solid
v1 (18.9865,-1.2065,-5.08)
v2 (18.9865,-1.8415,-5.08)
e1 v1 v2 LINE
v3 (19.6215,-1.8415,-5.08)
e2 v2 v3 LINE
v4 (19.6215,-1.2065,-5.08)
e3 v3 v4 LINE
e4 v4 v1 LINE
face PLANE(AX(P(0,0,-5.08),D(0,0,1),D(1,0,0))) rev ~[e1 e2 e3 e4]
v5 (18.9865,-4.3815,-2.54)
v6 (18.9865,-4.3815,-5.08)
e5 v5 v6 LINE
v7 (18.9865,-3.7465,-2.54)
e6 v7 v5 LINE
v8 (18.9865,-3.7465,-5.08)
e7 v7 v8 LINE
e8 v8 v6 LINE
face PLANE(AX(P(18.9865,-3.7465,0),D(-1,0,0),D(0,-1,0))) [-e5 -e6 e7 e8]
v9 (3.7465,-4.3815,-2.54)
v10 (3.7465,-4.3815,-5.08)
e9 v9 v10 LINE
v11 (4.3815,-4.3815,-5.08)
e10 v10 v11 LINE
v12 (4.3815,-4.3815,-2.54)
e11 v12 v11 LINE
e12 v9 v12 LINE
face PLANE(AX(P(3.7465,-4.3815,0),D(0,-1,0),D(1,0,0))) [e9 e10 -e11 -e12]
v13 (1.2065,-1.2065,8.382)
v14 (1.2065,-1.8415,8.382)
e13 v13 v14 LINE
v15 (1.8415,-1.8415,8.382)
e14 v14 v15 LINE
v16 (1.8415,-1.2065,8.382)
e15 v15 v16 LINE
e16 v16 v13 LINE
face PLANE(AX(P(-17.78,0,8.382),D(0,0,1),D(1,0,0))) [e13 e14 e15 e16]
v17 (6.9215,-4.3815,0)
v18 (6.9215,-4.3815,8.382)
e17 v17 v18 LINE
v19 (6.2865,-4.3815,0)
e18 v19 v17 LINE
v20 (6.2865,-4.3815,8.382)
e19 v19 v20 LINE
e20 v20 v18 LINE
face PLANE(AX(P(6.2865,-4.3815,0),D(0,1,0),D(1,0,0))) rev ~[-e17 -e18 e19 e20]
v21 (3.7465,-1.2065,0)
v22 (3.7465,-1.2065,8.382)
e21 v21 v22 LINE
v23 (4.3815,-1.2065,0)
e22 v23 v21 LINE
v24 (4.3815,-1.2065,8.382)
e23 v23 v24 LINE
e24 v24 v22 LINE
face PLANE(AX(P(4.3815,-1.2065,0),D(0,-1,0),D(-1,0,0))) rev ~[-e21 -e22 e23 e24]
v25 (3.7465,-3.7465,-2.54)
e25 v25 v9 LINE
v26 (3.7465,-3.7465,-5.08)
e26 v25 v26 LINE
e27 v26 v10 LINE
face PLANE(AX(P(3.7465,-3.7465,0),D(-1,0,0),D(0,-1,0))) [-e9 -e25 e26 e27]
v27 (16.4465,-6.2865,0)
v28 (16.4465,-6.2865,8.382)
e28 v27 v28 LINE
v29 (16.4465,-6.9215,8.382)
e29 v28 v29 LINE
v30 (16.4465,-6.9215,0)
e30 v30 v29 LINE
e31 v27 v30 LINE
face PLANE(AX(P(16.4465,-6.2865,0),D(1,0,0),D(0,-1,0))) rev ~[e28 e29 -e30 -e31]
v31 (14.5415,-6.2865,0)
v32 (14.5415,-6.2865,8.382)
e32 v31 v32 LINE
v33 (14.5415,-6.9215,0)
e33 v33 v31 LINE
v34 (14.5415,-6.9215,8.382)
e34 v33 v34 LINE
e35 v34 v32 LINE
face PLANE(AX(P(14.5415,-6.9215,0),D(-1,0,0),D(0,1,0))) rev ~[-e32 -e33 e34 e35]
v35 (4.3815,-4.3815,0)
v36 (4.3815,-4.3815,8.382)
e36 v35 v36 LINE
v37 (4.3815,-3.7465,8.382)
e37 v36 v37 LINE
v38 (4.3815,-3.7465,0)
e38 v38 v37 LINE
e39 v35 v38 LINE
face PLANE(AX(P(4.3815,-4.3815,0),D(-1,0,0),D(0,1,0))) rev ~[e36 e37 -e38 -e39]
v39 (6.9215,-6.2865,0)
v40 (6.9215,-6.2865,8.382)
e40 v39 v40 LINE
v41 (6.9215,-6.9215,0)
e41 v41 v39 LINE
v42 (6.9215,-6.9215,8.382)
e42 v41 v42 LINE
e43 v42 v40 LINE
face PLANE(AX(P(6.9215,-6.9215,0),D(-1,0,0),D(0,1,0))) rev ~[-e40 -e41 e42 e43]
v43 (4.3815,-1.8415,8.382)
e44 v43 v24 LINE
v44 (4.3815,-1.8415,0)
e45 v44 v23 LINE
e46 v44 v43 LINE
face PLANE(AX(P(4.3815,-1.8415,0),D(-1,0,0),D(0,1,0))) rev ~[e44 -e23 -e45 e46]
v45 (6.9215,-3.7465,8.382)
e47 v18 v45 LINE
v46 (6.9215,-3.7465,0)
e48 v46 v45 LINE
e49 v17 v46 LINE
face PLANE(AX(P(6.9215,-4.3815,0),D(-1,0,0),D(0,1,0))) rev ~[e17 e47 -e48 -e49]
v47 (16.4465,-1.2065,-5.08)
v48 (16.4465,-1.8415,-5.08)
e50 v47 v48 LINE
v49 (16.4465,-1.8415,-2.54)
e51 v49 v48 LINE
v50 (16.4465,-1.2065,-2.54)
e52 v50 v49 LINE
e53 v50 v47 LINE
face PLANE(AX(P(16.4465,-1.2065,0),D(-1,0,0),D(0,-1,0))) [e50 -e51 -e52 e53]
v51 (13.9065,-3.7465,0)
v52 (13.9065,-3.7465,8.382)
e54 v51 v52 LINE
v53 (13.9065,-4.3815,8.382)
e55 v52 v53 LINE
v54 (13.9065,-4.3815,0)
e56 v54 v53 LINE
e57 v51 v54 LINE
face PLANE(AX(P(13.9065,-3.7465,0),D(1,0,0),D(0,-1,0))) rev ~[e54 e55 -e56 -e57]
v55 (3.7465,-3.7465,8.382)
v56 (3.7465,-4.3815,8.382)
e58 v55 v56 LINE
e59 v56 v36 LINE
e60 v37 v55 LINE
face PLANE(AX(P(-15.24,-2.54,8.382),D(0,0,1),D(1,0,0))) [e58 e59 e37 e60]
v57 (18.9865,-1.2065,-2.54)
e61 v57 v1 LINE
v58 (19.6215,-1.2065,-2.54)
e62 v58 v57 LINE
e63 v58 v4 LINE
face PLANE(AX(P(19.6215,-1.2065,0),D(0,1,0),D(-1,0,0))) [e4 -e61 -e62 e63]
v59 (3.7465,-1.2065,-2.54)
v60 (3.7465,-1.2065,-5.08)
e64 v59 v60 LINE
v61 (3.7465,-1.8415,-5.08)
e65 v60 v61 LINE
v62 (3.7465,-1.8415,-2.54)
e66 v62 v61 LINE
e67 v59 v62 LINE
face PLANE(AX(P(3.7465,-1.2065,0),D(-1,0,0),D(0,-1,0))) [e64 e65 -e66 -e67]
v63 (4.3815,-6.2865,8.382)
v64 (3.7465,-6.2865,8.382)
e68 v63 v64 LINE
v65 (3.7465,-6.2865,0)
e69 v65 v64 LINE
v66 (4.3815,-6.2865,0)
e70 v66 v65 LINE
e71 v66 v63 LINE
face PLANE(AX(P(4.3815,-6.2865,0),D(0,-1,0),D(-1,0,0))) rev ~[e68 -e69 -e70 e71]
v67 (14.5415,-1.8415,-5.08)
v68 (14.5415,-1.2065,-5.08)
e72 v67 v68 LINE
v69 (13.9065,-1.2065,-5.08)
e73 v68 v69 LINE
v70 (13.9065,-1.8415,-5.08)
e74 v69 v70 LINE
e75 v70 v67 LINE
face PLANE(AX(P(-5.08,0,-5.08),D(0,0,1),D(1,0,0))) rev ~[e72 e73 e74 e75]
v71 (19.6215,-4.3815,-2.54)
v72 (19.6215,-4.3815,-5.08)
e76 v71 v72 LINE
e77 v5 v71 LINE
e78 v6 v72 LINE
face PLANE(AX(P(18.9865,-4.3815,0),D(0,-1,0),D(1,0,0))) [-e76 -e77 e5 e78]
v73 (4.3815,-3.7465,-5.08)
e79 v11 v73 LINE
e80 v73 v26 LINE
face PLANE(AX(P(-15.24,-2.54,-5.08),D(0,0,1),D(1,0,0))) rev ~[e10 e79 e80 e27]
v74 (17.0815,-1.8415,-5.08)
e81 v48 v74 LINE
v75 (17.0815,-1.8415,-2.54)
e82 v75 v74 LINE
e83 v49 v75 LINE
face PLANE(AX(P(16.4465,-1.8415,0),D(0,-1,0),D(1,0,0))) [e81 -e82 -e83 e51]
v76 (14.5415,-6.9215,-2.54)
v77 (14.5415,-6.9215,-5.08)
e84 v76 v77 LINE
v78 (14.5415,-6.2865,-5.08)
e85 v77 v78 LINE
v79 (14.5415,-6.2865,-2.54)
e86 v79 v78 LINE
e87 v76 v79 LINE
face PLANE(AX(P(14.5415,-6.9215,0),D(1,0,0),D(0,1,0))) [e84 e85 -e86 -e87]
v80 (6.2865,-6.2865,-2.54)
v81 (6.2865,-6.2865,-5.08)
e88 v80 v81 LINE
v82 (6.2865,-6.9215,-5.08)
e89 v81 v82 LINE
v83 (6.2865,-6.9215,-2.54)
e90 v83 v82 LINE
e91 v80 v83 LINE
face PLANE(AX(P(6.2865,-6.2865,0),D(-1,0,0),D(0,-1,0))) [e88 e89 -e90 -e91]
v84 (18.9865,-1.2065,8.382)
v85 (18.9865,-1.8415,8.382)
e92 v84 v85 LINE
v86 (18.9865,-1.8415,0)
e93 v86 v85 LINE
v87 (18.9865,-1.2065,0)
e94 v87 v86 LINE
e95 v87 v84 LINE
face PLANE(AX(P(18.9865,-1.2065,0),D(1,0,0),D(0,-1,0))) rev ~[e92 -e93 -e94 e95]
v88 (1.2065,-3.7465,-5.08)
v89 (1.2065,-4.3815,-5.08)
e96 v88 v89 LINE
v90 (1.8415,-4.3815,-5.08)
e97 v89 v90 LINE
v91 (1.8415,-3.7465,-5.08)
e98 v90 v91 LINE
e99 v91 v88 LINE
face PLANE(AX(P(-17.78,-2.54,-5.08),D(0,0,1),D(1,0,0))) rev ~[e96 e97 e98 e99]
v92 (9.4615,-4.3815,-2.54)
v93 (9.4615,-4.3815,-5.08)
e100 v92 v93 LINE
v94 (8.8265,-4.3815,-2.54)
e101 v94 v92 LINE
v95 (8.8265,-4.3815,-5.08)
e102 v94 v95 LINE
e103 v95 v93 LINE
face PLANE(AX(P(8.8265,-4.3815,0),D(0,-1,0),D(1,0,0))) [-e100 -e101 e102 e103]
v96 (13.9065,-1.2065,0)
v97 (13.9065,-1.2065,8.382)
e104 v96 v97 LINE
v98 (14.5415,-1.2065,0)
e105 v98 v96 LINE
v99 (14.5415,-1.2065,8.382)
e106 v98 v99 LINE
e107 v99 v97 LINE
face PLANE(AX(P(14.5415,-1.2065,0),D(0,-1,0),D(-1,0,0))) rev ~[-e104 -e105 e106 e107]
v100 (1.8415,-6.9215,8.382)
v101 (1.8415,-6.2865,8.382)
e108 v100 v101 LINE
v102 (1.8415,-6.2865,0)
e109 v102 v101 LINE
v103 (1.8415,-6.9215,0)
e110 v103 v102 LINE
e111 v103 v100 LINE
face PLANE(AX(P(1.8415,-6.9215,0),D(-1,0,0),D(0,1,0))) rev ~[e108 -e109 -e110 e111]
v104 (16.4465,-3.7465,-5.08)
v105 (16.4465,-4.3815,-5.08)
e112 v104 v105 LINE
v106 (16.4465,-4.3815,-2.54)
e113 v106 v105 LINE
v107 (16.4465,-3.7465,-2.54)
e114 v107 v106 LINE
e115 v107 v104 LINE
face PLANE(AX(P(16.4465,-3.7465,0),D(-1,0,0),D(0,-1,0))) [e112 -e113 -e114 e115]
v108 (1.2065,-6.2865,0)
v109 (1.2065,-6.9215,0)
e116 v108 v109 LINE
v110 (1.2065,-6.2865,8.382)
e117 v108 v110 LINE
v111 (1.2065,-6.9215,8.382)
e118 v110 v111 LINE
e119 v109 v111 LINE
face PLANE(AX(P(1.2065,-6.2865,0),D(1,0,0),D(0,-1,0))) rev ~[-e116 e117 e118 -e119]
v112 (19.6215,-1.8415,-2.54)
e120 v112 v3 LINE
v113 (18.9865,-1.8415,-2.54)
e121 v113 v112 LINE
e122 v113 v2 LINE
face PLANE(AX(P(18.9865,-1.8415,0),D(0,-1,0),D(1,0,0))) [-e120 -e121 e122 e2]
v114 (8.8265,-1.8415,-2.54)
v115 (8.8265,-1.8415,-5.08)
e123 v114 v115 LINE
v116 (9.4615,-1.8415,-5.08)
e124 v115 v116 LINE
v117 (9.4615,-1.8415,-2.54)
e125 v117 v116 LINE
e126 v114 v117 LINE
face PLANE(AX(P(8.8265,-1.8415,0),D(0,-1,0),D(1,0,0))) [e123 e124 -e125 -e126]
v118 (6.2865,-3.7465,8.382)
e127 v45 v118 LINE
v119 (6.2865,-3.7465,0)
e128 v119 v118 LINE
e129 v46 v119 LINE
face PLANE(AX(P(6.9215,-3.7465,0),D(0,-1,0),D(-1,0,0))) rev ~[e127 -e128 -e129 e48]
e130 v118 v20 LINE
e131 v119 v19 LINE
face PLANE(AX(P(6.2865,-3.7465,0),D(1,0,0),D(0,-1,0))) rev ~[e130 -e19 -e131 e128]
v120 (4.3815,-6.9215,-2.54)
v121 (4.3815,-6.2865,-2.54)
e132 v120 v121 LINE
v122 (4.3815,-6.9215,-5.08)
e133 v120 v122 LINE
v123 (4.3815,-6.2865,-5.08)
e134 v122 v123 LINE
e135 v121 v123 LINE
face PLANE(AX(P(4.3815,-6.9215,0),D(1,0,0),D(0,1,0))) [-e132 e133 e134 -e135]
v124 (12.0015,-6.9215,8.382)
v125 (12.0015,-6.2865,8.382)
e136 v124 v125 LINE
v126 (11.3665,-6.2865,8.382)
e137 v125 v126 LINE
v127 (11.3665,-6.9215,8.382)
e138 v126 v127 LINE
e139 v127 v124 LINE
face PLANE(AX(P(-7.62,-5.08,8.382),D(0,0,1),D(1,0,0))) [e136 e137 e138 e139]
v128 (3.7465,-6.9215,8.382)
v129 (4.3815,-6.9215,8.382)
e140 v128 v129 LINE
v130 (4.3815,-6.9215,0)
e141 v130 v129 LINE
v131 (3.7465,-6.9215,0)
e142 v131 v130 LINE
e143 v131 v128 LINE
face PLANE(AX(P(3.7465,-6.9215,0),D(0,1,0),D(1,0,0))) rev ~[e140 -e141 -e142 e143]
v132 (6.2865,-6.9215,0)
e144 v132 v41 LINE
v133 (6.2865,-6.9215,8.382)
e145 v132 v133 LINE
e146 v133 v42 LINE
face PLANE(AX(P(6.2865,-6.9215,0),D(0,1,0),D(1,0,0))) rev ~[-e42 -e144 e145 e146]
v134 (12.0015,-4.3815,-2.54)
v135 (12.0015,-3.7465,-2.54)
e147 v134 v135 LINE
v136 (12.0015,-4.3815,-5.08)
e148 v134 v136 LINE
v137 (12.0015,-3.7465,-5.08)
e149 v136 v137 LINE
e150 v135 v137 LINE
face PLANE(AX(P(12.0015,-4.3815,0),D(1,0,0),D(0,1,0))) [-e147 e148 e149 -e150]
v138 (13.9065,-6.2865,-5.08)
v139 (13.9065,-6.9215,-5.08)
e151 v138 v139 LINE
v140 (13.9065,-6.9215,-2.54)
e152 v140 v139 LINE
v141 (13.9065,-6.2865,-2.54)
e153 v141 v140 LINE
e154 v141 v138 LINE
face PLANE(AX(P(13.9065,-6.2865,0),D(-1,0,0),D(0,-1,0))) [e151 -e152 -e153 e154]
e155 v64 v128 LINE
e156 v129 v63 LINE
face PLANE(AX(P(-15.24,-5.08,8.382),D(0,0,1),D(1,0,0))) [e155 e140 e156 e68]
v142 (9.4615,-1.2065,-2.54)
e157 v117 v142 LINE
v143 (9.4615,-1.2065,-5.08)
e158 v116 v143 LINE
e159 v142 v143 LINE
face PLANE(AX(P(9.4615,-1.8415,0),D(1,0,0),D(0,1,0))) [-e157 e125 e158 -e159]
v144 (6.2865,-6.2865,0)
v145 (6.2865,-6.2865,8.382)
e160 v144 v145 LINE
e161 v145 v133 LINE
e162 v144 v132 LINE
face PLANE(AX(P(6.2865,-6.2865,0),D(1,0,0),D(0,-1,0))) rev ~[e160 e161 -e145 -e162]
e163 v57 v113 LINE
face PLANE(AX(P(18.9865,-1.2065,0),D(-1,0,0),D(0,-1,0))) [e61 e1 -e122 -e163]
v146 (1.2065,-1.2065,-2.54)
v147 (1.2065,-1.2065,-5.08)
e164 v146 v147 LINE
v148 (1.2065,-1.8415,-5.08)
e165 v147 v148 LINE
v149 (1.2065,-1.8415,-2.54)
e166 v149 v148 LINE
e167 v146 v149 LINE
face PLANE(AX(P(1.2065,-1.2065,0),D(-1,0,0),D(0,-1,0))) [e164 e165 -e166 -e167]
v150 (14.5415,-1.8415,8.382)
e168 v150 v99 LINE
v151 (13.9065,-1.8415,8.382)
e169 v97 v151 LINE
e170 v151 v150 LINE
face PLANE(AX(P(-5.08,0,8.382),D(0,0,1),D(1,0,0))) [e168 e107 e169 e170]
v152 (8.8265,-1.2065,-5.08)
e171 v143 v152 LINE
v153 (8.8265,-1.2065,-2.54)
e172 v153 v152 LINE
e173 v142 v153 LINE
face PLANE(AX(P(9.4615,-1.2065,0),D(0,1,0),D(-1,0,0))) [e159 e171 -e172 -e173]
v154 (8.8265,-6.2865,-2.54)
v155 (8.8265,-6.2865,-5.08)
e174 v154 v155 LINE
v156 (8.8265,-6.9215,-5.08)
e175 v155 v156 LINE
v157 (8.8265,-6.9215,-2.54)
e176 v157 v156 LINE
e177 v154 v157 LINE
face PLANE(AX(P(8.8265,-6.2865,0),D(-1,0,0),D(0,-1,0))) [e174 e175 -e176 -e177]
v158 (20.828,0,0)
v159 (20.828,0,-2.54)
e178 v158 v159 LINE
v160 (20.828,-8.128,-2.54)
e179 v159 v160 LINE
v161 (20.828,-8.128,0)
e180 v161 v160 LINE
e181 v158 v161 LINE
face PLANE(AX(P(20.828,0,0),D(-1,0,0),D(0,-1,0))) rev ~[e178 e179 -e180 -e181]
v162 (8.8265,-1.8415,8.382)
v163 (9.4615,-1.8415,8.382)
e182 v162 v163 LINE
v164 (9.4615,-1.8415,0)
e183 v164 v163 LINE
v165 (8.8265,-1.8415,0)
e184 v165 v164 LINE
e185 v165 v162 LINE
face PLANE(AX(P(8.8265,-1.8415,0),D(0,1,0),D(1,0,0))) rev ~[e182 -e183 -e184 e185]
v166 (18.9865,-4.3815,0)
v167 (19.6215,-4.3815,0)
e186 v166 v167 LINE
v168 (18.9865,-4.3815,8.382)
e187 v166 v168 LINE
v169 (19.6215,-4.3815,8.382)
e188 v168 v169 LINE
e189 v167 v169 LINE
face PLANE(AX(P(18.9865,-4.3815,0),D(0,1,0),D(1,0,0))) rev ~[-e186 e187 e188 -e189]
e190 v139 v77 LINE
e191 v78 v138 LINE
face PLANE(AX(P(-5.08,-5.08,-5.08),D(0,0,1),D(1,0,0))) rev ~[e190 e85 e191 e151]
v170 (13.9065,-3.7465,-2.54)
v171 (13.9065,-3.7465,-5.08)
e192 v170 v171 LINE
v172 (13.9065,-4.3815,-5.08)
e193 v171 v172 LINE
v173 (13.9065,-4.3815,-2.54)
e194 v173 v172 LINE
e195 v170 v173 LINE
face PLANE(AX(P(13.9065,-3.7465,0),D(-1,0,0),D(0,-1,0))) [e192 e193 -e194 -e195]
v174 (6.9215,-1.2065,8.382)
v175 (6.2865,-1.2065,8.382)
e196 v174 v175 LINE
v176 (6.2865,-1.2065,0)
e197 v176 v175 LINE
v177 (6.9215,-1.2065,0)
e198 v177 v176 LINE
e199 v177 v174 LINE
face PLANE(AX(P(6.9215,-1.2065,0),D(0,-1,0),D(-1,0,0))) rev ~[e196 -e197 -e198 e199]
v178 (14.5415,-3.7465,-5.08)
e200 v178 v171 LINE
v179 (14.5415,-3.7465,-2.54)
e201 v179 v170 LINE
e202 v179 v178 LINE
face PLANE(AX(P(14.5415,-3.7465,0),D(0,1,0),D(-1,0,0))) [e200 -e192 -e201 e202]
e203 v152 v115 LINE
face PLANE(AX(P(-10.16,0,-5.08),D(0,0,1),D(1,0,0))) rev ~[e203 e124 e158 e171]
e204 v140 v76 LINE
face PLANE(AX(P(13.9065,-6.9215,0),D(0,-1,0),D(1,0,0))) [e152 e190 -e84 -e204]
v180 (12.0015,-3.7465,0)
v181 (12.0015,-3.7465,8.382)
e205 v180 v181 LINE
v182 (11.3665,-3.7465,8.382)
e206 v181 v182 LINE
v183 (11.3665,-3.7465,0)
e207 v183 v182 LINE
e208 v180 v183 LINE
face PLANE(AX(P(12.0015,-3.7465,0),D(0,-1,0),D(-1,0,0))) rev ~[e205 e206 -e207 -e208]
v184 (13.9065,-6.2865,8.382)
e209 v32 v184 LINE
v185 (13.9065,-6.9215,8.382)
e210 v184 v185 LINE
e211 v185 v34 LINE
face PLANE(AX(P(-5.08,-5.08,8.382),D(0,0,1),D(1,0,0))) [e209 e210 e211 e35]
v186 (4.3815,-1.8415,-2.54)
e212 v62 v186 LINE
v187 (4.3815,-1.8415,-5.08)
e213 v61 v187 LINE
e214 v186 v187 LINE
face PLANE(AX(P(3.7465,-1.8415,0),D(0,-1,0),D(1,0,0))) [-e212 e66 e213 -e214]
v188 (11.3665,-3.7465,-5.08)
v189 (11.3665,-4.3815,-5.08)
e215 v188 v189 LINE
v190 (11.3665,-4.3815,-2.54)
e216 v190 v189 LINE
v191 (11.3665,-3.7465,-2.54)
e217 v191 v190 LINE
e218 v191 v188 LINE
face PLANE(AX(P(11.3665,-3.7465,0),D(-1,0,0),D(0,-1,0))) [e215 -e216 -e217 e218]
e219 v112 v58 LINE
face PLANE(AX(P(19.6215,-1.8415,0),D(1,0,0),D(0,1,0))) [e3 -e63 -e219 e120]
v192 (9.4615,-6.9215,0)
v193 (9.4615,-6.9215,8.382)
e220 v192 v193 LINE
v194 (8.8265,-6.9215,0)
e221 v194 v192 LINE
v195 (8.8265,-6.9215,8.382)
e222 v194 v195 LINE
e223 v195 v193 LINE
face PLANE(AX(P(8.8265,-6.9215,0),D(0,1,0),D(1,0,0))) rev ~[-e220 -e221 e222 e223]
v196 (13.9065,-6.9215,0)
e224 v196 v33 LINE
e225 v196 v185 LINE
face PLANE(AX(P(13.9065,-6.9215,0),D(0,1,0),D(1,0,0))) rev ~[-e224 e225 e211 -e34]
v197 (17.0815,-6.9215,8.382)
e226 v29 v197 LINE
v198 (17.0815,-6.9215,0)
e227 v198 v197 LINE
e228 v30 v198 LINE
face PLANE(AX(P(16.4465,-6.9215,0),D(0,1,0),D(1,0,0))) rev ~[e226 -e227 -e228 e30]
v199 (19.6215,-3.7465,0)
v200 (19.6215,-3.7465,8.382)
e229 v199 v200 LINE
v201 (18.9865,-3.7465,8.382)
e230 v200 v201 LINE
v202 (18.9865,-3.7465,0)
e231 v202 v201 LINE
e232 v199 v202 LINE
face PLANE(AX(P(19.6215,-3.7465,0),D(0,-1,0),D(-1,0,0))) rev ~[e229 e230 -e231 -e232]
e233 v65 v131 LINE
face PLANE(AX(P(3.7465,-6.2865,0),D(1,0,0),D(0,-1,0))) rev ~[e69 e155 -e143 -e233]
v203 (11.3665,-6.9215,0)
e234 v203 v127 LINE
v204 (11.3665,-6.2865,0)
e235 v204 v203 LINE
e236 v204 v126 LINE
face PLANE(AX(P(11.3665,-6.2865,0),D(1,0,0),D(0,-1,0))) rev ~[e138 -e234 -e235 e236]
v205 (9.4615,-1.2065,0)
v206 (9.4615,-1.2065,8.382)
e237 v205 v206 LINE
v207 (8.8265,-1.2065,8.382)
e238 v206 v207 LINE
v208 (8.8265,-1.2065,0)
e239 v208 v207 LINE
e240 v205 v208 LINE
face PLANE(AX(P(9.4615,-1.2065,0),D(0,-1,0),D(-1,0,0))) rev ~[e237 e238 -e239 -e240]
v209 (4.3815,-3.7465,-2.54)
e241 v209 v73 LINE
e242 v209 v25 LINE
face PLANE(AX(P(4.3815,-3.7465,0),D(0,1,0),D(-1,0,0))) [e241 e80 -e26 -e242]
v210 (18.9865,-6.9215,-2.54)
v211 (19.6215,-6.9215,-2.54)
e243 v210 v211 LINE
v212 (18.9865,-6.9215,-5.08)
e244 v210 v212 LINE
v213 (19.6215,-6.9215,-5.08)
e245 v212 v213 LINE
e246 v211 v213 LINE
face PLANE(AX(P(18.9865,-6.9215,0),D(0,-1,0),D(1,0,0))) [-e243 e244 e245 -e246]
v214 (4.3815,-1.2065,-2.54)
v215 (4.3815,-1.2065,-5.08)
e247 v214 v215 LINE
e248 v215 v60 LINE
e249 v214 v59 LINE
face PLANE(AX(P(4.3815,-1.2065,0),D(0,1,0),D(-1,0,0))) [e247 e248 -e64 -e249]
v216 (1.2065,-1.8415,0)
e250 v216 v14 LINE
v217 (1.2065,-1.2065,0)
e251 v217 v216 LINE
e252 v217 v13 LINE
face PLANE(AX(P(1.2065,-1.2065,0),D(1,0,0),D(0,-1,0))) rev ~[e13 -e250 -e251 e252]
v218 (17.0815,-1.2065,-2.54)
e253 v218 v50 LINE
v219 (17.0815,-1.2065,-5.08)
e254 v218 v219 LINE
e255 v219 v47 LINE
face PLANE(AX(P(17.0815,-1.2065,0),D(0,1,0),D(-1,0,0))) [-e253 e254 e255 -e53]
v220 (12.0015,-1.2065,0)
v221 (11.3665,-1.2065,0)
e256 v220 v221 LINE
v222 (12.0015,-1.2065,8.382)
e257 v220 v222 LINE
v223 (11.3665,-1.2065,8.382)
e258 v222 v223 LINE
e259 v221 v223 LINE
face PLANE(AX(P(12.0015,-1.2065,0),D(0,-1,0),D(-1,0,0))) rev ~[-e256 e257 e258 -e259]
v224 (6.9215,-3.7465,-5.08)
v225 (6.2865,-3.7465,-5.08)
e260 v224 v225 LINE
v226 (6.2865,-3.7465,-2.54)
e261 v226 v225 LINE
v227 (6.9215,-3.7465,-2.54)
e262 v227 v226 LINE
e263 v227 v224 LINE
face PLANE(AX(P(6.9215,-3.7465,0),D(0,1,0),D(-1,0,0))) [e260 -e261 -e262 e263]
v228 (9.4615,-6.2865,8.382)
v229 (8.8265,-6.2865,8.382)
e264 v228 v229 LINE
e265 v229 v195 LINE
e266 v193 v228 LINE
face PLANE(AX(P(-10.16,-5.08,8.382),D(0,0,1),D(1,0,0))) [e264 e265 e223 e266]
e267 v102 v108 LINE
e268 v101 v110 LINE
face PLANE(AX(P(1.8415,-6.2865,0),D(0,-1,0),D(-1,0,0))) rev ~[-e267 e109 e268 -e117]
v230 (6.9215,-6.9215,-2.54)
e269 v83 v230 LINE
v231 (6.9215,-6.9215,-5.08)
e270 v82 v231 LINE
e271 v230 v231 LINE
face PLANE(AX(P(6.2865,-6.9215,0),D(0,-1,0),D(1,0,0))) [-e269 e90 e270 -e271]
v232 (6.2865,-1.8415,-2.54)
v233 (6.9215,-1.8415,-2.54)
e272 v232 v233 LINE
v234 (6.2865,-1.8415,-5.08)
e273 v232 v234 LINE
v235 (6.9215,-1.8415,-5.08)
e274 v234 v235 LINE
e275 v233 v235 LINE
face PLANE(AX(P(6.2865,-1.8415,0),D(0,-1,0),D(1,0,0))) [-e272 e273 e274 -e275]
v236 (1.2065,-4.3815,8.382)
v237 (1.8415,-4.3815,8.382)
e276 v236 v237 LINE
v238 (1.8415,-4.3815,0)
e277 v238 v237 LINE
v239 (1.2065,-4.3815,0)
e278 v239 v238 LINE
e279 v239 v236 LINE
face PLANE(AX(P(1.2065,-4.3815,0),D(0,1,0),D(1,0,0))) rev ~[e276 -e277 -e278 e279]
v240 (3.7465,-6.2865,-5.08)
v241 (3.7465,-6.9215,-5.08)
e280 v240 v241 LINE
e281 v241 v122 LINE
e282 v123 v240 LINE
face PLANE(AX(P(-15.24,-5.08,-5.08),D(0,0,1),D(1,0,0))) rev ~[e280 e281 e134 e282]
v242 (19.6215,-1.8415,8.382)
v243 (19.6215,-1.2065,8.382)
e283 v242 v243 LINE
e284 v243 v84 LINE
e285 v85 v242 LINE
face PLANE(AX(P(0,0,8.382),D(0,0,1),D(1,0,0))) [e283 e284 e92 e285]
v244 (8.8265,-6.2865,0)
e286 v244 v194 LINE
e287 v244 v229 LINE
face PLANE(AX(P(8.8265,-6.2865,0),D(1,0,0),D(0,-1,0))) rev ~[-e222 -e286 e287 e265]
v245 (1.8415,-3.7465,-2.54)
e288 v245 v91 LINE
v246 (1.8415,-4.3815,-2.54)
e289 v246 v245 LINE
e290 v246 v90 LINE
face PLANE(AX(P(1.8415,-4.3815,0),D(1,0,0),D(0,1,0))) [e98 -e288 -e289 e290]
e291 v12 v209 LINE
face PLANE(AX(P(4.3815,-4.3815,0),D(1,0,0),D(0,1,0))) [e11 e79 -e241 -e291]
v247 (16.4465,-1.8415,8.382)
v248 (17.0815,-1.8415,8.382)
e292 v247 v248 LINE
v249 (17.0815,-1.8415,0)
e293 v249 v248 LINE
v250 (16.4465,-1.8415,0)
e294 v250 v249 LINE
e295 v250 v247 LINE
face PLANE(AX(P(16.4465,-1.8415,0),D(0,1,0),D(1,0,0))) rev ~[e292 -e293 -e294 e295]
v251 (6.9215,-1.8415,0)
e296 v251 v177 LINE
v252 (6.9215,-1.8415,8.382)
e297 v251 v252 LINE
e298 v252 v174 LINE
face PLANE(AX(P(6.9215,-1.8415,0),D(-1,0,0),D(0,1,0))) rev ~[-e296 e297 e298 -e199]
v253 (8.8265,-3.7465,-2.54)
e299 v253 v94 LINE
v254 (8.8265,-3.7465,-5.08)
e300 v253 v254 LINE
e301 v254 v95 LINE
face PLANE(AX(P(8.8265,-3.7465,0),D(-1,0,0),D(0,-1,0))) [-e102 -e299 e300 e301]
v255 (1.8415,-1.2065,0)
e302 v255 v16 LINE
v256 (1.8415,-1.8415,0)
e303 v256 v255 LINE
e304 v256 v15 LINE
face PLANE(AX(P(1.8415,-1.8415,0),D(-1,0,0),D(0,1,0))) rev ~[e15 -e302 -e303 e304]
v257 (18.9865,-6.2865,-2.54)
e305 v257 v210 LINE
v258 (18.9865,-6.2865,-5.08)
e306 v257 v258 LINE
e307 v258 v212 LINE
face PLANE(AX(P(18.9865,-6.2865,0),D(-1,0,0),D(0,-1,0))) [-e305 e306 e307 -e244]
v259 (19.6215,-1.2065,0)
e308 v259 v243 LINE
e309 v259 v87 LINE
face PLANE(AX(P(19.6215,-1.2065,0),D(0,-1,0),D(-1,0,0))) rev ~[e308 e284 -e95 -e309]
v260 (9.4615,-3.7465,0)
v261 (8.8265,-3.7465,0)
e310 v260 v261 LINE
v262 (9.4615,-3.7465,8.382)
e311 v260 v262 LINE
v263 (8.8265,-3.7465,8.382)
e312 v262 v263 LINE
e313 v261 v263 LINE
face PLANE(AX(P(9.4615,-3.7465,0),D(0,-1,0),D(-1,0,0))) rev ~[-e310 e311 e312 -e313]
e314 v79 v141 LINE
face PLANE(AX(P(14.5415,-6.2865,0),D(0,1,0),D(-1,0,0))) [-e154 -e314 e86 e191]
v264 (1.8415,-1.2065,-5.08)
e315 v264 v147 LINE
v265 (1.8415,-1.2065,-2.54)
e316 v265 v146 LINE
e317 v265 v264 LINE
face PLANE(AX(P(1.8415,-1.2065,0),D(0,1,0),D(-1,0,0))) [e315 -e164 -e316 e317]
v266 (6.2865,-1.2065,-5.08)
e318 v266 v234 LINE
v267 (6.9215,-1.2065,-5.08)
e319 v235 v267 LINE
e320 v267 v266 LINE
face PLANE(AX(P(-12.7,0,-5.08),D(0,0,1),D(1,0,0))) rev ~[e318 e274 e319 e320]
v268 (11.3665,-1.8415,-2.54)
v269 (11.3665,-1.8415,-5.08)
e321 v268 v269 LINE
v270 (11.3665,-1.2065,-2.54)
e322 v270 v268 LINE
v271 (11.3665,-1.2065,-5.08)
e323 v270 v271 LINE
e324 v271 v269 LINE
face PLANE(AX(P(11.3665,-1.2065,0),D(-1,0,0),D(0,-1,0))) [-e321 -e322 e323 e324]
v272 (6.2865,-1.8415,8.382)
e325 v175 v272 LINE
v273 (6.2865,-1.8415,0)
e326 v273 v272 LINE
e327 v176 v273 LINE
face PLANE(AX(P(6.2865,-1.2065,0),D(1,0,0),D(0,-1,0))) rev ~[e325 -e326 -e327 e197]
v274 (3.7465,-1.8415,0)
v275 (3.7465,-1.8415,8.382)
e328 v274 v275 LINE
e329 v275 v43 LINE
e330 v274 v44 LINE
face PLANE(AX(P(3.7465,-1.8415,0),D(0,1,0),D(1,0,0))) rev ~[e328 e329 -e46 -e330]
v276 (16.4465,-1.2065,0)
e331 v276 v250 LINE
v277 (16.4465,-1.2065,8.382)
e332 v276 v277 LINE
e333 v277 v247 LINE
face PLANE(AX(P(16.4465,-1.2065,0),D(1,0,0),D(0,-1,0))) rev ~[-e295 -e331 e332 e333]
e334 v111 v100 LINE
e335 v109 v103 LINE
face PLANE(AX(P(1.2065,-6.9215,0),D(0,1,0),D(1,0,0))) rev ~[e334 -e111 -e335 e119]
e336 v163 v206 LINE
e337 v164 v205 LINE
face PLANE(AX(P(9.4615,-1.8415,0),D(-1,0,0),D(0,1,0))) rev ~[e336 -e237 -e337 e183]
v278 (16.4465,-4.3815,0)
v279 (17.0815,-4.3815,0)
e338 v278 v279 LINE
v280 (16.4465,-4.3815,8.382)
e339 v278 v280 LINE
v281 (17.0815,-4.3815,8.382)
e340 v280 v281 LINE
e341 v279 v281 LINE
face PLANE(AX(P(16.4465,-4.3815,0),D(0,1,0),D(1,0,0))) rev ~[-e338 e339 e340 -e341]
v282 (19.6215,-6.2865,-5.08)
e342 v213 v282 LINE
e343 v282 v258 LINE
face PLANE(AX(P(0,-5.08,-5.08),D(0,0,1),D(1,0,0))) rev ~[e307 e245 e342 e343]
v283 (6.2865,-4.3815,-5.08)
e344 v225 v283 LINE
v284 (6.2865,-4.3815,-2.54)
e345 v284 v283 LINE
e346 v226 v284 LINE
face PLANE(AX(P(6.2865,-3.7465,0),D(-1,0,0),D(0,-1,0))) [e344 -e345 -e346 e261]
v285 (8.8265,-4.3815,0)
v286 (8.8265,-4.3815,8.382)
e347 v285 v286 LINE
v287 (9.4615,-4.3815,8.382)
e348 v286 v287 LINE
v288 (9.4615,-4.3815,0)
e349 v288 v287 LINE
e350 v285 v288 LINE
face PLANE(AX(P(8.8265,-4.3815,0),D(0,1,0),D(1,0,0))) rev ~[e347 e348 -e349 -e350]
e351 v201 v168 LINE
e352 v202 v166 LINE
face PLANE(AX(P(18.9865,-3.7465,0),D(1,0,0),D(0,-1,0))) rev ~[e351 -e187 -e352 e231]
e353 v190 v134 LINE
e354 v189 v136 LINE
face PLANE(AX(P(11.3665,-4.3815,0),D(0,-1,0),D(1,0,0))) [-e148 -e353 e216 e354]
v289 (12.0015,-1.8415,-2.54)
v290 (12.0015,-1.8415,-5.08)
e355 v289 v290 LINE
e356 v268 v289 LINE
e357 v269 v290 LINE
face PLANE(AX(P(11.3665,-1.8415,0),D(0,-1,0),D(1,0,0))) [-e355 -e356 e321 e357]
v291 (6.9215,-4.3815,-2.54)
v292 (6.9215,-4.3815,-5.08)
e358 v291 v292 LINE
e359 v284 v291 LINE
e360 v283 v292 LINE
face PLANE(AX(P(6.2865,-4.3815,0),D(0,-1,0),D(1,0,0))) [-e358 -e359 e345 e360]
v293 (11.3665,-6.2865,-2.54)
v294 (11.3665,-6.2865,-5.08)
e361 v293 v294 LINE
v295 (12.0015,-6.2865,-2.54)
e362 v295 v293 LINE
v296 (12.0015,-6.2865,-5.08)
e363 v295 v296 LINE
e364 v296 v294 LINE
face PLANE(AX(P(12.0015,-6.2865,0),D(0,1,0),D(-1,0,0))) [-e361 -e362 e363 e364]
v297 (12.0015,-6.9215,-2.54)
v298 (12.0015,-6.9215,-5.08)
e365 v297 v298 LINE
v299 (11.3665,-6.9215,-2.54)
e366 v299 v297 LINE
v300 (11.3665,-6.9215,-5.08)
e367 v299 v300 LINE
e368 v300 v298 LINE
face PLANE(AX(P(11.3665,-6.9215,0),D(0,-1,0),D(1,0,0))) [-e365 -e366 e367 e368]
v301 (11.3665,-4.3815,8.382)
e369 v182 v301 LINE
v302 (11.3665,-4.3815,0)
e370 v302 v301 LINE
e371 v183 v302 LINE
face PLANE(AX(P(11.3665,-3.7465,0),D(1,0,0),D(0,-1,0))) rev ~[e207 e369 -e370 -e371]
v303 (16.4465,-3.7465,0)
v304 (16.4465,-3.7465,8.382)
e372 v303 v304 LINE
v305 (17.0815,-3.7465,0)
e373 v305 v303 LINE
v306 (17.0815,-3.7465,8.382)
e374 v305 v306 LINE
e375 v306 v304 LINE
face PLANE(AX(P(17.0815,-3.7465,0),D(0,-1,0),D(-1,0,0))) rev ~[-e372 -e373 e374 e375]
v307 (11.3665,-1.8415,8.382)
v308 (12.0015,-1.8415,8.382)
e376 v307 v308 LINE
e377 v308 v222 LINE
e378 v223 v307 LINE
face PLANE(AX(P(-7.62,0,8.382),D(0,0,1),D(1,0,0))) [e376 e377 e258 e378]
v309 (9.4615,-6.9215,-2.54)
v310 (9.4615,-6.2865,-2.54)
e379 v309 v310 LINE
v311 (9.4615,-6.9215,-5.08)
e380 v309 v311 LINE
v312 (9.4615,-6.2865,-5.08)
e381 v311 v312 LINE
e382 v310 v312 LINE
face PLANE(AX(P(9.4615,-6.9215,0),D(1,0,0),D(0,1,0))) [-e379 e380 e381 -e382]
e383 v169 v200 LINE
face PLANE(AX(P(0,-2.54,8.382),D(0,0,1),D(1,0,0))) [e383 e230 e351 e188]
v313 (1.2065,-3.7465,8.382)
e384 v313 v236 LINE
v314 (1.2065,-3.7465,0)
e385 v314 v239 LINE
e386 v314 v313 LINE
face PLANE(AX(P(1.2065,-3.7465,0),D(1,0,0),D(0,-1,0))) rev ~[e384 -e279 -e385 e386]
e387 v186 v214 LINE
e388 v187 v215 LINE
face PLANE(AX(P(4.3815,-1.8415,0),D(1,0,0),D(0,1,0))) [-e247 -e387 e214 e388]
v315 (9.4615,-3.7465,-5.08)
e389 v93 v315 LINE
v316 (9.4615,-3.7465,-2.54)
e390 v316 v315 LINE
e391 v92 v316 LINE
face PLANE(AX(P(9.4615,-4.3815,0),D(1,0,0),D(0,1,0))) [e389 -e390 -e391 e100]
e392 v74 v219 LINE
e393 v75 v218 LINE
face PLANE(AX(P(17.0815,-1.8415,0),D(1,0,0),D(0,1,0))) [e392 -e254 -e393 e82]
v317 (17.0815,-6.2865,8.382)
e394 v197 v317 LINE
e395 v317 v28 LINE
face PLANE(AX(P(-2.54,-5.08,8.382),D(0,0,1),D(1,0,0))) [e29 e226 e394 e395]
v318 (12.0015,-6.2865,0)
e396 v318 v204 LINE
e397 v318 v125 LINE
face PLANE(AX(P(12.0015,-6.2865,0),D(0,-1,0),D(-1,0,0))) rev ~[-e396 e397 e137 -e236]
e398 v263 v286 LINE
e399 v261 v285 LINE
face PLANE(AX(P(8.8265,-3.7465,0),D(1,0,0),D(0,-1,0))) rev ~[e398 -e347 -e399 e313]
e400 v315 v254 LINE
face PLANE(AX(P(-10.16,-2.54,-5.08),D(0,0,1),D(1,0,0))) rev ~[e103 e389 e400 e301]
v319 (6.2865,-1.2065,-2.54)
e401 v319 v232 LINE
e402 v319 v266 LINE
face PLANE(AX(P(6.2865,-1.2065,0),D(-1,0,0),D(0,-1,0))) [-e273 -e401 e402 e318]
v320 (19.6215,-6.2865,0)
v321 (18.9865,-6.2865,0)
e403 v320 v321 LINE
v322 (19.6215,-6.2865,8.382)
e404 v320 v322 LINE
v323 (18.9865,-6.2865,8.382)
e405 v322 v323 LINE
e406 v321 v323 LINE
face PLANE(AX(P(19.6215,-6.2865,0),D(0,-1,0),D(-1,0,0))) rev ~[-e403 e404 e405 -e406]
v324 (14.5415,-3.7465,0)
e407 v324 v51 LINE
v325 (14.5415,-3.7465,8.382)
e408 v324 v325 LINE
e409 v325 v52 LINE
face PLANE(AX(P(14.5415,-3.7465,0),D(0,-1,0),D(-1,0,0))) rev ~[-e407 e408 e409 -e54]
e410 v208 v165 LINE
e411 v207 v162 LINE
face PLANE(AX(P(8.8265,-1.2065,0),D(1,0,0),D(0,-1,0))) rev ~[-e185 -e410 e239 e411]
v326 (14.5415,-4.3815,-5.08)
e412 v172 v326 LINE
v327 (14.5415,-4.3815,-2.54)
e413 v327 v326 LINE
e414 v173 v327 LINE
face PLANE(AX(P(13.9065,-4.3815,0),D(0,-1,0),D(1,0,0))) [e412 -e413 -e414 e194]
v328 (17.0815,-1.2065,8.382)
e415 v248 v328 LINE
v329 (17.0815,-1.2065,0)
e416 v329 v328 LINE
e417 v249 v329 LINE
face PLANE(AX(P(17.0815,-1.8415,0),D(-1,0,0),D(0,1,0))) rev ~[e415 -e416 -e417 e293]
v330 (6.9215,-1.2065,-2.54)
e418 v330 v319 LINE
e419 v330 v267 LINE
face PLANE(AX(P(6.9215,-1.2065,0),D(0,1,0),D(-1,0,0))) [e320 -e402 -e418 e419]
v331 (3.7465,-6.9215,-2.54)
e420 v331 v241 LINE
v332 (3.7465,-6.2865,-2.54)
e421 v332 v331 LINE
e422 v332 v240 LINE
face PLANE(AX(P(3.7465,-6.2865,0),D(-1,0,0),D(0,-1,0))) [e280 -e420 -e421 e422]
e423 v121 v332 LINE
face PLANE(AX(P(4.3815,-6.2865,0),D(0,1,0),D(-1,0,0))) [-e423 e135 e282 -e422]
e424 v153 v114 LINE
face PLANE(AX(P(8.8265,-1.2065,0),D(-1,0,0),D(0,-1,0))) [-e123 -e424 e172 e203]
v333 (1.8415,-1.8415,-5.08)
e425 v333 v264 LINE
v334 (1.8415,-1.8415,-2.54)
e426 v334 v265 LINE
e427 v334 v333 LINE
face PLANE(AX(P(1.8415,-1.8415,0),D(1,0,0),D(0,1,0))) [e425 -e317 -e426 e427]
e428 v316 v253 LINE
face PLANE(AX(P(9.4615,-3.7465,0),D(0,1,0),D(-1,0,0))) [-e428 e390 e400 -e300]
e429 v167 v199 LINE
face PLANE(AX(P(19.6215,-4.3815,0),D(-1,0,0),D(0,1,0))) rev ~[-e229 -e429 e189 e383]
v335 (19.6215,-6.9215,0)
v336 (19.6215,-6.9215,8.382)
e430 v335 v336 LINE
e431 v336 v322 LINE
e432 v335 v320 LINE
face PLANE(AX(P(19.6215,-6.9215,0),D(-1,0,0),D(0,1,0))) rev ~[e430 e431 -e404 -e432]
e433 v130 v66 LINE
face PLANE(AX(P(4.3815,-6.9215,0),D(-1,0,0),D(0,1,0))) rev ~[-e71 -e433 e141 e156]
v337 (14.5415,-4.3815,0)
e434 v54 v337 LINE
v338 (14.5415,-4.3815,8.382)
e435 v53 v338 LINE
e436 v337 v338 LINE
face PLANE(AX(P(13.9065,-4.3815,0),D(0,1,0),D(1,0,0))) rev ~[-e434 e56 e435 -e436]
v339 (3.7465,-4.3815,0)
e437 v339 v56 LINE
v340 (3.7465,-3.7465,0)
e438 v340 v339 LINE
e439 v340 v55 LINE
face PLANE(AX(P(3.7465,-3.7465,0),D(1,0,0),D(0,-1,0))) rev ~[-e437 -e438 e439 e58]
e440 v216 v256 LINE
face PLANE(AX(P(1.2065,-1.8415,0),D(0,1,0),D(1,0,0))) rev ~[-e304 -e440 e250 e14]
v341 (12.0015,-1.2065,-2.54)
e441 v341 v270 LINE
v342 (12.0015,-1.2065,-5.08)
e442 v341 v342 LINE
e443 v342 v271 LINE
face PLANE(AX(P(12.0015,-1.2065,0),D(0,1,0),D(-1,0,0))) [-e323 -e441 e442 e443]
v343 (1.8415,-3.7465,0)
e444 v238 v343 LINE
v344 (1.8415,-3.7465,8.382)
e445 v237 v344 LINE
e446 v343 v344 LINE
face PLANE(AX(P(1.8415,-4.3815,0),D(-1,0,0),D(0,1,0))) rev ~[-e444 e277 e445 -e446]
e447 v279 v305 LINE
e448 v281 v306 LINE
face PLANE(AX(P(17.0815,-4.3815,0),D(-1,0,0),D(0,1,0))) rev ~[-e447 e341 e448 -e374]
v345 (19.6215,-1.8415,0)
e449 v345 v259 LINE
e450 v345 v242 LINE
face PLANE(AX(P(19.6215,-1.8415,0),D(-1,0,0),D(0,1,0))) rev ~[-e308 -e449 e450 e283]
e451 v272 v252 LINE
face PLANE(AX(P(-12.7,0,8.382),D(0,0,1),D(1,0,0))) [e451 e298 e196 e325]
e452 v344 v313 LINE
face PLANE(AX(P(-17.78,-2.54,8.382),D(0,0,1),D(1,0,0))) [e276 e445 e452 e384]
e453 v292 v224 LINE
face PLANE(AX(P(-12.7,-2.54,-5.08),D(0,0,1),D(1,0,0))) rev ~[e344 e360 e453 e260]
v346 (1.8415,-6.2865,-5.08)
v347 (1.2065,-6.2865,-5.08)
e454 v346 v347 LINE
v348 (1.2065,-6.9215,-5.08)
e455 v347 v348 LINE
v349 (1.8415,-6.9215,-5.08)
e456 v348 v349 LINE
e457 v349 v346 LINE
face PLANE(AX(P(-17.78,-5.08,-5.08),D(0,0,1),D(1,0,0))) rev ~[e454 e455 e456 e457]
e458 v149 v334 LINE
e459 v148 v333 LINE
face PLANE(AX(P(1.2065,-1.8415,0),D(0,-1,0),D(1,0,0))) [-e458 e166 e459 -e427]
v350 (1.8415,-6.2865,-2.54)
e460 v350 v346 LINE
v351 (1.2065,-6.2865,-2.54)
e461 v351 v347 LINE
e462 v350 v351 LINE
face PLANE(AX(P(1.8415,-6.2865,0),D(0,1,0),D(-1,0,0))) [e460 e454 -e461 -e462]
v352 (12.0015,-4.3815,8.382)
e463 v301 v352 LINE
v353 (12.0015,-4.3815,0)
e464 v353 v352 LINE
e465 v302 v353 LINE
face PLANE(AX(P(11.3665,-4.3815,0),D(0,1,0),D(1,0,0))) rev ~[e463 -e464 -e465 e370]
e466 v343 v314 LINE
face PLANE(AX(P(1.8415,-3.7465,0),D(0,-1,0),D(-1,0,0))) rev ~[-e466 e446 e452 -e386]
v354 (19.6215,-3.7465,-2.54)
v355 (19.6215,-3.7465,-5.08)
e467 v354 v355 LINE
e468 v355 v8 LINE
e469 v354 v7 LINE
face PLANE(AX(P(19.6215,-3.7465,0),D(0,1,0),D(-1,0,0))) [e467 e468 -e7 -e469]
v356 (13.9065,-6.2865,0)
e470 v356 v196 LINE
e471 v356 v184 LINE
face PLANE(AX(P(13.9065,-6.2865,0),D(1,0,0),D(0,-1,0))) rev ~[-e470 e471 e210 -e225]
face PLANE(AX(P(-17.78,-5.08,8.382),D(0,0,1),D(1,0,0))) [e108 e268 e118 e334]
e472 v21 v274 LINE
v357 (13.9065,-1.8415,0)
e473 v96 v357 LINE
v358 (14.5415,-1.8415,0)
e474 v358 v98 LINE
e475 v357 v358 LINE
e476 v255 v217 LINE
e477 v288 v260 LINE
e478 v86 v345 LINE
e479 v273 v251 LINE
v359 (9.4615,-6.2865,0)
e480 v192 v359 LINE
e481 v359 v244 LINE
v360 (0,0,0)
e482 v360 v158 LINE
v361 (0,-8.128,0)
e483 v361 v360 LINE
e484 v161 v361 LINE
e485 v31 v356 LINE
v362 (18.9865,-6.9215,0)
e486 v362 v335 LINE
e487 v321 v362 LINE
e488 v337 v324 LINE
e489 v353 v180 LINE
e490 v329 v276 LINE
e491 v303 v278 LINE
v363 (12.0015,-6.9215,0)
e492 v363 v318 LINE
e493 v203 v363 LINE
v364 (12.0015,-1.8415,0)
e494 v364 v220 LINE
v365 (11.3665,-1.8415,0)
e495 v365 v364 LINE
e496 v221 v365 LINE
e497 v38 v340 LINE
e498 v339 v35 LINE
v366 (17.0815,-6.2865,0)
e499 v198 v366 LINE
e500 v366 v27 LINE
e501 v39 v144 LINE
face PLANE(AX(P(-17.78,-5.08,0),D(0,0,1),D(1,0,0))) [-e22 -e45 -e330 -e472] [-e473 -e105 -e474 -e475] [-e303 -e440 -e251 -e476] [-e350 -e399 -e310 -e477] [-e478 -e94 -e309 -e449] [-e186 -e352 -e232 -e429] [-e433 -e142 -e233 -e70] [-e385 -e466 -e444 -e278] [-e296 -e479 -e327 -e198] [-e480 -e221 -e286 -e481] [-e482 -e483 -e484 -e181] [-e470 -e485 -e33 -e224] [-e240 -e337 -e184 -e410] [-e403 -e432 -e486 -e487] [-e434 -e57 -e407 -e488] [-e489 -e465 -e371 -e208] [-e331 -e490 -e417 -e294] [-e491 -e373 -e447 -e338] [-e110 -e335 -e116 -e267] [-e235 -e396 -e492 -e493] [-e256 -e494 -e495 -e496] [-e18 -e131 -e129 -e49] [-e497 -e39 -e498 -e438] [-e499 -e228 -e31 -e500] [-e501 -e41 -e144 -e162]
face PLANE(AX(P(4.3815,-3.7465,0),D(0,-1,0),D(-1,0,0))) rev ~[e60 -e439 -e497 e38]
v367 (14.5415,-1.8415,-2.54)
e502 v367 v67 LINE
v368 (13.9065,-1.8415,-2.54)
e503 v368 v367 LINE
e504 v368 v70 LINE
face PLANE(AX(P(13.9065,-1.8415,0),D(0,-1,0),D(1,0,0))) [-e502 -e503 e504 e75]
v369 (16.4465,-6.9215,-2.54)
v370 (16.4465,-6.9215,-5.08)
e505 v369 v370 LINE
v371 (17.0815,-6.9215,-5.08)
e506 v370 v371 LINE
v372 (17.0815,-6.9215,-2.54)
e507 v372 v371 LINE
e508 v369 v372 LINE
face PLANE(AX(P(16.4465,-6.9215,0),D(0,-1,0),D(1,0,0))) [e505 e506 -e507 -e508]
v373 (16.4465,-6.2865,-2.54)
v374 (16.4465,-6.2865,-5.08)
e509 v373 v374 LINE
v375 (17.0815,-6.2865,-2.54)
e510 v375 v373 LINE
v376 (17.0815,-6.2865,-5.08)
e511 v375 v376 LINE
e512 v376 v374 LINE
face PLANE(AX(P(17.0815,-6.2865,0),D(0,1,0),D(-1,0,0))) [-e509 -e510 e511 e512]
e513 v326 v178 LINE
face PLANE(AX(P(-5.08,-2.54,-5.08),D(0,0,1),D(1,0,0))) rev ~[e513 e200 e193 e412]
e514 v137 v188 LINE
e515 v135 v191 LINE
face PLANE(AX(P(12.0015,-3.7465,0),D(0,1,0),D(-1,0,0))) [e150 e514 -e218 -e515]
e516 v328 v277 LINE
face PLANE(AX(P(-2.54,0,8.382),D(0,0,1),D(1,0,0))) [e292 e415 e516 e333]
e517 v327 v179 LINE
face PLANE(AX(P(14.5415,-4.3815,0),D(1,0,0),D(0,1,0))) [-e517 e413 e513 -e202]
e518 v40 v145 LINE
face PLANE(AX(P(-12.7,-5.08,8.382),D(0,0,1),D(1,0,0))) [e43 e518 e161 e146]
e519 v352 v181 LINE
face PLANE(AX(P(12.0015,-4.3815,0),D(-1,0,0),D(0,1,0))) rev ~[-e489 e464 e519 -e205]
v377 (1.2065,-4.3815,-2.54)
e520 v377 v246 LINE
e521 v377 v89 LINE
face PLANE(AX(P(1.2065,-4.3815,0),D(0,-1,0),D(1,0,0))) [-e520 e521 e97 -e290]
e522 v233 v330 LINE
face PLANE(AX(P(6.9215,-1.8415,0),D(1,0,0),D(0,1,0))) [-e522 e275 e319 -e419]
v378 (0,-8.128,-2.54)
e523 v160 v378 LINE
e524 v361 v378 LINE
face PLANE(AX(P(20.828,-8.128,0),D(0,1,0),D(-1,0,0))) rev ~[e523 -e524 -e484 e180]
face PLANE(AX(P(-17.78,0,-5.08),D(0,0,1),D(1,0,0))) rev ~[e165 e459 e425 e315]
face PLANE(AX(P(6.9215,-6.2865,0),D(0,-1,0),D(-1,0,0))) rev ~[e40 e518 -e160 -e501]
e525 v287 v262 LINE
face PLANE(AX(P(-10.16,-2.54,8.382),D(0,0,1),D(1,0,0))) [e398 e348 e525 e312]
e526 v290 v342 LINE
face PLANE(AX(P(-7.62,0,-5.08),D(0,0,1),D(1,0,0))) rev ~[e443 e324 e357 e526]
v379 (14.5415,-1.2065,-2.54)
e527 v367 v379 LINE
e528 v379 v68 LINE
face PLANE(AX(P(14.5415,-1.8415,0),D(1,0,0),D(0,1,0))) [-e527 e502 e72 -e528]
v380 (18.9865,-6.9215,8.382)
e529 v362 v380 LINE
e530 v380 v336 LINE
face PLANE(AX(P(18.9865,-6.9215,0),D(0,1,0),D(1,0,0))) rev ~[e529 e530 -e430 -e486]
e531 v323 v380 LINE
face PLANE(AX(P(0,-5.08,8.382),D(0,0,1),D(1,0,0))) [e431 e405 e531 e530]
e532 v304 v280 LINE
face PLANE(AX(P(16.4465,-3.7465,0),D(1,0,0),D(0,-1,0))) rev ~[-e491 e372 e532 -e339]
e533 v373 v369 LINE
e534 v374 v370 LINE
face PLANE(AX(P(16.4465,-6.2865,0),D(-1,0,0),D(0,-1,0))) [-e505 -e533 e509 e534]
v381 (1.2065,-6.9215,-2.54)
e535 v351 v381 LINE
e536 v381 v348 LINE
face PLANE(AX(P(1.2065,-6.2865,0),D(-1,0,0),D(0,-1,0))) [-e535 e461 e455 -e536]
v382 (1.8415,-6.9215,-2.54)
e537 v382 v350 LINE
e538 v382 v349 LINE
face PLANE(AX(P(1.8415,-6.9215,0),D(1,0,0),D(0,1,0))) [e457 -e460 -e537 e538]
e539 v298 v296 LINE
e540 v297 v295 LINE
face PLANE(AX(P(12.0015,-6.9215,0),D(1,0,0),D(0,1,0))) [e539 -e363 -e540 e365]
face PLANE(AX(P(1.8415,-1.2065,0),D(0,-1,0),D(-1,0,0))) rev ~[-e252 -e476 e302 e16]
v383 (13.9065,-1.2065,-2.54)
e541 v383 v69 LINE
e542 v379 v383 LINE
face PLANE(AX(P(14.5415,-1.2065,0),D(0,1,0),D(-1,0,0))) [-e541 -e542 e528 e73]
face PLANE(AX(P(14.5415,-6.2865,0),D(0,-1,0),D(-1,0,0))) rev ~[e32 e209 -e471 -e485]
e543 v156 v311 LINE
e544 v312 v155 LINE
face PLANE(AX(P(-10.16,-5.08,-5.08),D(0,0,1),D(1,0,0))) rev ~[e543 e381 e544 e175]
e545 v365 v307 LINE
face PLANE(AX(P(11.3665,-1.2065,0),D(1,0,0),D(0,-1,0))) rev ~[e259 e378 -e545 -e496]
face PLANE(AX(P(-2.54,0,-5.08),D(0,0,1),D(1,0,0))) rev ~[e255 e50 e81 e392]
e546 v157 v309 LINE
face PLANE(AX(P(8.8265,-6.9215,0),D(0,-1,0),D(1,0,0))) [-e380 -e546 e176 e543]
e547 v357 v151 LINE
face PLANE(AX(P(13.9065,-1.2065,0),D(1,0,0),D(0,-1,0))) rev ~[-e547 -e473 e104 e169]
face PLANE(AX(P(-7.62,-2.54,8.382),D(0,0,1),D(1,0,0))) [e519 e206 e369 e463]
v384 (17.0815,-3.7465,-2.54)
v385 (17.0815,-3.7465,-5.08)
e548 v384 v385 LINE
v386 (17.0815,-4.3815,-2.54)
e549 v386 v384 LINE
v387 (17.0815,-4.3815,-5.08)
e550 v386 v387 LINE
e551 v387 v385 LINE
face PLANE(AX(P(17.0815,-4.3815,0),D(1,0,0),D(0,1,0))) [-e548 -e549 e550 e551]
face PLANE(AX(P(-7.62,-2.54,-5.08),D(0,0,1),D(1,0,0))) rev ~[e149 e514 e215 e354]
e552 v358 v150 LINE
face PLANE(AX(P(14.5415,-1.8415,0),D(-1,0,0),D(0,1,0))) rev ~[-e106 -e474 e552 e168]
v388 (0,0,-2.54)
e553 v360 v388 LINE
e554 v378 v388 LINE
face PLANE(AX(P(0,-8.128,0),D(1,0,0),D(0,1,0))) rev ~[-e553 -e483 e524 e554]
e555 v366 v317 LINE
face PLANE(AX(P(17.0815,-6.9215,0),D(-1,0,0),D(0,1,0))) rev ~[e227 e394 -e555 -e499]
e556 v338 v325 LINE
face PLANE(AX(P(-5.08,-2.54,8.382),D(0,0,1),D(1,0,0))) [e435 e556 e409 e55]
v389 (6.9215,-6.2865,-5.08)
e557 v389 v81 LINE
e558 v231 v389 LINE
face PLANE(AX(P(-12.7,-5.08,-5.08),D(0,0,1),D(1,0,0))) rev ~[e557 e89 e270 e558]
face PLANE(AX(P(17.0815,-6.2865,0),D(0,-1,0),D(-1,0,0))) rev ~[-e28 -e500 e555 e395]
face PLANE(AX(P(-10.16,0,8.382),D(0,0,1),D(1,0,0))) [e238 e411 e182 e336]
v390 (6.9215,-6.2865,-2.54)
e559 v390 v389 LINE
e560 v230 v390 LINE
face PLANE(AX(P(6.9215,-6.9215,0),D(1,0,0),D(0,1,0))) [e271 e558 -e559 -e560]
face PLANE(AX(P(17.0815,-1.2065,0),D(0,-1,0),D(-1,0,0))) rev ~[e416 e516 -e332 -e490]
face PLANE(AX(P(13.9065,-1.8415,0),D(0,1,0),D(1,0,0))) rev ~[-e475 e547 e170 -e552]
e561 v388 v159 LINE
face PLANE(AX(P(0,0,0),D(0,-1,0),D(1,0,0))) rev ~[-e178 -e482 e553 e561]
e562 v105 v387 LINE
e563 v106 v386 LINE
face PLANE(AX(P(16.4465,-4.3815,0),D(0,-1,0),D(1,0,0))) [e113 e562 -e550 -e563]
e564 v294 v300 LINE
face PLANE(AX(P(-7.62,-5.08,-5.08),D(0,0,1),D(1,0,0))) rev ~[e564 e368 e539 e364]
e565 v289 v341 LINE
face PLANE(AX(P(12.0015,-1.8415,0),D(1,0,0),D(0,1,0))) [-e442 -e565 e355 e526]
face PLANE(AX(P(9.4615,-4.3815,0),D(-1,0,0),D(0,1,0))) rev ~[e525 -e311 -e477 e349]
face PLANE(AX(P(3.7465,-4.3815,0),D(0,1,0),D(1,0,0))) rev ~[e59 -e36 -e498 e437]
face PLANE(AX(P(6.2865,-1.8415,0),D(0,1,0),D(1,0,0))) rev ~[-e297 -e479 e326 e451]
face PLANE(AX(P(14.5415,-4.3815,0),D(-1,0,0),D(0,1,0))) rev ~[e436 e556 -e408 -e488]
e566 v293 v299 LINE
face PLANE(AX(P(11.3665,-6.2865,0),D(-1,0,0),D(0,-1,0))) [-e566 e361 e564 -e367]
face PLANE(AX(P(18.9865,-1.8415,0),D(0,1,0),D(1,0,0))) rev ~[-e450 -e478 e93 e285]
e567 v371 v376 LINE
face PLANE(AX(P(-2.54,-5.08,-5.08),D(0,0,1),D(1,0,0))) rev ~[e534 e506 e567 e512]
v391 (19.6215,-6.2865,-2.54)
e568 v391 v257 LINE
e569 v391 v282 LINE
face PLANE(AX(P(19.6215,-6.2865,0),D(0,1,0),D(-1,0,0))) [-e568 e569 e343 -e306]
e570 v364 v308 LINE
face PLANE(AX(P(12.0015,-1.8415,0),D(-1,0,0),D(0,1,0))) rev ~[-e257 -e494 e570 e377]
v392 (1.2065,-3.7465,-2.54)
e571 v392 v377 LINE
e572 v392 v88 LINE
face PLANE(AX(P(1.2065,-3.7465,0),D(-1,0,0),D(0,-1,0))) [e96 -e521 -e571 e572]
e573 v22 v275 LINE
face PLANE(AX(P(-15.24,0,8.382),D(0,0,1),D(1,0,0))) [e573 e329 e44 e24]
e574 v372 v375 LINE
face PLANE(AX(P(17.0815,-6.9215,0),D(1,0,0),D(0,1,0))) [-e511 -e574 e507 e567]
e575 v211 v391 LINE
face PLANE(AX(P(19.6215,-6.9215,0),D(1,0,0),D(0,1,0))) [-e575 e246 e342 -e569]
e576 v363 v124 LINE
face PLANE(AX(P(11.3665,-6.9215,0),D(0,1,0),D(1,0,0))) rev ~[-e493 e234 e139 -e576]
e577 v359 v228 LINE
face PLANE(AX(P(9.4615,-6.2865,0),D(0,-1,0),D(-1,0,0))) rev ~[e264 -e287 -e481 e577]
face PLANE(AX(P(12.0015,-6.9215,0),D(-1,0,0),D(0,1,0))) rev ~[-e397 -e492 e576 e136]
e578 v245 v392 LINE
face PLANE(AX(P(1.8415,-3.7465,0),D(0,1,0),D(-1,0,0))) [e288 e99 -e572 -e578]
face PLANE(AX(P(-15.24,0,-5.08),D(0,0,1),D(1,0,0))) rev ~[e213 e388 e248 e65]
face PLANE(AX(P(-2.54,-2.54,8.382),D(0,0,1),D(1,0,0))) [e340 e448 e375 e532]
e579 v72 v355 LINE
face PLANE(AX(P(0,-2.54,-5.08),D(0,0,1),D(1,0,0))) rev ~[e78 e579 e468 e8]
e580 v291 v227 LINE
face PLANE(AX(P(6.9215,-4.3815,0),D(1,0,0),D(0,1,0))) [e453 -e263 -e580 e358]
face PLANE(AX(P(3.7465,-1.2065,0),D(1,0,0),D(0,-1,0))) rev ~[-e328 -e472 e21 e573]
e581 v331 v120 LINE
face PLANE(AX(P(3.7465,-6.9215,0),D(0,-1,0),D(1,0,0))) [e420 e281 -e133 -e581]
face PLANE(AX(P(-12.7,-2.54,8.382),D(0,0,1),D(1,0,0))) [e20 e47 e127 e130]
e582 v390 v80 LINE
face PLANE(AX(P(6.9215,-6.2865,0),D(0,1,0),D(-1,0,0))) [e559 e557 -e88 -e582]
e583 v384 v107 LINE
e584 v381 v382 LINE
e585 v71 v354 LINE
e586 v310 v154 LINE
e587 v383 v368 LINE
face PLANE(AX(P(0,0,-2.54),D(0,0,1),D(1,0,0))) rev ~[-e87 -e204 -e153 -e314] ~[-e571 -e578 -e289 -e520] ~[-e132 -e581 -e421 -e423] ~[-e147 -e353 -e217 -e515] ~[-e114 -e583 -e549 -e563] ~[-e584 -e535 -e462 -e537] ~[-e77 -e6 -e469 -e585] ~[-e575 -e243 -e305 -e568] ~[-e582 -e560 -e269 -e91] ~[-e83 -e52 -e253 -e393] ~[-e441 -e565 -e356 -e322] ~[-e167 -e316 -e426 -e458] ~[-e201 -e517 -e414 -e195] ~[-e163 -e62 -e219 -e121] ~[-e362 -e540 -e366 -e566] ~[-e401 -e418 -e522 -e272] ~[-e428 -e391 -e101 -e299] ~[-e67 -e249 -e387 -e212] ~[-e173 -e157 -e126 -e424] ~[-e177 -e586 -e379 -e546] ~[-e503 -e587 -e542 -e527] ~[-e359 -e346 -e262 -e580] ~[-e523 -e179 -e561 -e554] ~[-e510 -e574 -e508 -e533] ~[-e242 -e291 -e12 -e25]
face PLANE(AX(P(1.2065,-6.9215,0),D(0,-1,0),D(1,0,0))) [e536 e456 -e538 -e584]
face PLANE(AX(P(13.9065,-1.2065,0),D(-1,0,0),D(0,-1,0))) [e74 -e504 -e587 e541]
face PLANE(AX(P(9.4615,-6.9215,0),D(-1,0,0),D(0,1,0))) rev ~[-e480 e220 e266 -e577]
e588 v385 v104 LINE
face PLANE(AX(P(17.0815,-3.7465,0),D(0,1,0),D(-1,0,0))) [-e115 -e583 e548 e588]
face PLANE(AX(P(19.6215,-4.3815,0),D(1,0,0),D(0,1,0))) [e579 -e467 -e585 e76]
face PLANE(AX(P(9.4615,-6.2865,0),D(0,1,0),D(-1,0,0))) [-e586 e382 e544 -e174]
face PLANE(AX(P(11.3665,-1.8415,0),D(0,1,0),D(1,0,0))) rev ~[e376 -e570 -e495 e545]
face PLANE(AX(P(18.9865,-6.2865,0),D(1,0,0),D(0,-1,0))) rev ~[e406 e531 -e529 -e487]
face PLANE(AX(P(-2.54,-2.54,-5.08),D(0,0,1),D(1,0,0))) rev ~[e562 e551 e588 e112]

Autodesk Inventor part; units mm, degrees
ref_plane "YZ Plane" through (0, 0, 0) normal (1, 0, 0) x (0, 1, 0)
ref_plane "XZ Plane" through (0, 0, 0) normal (0, 1, 0) x (-1, 0, 0)
ref_plane "XY Plane" through (0, 0, 0) normal (0, 0, 1) x (1, 0, 0)
sketch "Sketch1" plane through (0, 0, 0) normal (0, 0, 1) x (1, 0, 0)
  line L0 (0, 0) -> (20.828, 0)
  line L1 (20.828, -8.128) -> (0, -8.128)
  line L2 (20.828, 0) -> (20.828, -8.128)
  line L3 (0, -8.128) -> (0, 0)
  line L4 (19.6215, -1.8415) -> (19.6215, -1.2065)
  line L5 (19.6215, -1.2065) -> (18.9865, -1.2065)
  line L6 (18.9865, -1.2065) -> (18.9865, -1.8415)
  line L7 (18.9865, -1.8415) -> (19.6215, -1.8415)
extrude "Extrusion1" add sketch "Sketch1" against normal blind 2.54
extrude "Extrusion2" add sketch "Sketch1" along normal blind 8.382 contours L7 L6 L5 L4
extrude "Extrusion3" add sketch "Sketch1" against normal blind 5.08 contours L7 L6 L5 L4
pattern_linear "Rectangular Pattern1" count 3 spacing 2.54 along (0, -1, 0) count 8 spacing 2.54 along (-1, 0, 0) of "Extrusion3", "Extrusion2"
properties part number "J21"
